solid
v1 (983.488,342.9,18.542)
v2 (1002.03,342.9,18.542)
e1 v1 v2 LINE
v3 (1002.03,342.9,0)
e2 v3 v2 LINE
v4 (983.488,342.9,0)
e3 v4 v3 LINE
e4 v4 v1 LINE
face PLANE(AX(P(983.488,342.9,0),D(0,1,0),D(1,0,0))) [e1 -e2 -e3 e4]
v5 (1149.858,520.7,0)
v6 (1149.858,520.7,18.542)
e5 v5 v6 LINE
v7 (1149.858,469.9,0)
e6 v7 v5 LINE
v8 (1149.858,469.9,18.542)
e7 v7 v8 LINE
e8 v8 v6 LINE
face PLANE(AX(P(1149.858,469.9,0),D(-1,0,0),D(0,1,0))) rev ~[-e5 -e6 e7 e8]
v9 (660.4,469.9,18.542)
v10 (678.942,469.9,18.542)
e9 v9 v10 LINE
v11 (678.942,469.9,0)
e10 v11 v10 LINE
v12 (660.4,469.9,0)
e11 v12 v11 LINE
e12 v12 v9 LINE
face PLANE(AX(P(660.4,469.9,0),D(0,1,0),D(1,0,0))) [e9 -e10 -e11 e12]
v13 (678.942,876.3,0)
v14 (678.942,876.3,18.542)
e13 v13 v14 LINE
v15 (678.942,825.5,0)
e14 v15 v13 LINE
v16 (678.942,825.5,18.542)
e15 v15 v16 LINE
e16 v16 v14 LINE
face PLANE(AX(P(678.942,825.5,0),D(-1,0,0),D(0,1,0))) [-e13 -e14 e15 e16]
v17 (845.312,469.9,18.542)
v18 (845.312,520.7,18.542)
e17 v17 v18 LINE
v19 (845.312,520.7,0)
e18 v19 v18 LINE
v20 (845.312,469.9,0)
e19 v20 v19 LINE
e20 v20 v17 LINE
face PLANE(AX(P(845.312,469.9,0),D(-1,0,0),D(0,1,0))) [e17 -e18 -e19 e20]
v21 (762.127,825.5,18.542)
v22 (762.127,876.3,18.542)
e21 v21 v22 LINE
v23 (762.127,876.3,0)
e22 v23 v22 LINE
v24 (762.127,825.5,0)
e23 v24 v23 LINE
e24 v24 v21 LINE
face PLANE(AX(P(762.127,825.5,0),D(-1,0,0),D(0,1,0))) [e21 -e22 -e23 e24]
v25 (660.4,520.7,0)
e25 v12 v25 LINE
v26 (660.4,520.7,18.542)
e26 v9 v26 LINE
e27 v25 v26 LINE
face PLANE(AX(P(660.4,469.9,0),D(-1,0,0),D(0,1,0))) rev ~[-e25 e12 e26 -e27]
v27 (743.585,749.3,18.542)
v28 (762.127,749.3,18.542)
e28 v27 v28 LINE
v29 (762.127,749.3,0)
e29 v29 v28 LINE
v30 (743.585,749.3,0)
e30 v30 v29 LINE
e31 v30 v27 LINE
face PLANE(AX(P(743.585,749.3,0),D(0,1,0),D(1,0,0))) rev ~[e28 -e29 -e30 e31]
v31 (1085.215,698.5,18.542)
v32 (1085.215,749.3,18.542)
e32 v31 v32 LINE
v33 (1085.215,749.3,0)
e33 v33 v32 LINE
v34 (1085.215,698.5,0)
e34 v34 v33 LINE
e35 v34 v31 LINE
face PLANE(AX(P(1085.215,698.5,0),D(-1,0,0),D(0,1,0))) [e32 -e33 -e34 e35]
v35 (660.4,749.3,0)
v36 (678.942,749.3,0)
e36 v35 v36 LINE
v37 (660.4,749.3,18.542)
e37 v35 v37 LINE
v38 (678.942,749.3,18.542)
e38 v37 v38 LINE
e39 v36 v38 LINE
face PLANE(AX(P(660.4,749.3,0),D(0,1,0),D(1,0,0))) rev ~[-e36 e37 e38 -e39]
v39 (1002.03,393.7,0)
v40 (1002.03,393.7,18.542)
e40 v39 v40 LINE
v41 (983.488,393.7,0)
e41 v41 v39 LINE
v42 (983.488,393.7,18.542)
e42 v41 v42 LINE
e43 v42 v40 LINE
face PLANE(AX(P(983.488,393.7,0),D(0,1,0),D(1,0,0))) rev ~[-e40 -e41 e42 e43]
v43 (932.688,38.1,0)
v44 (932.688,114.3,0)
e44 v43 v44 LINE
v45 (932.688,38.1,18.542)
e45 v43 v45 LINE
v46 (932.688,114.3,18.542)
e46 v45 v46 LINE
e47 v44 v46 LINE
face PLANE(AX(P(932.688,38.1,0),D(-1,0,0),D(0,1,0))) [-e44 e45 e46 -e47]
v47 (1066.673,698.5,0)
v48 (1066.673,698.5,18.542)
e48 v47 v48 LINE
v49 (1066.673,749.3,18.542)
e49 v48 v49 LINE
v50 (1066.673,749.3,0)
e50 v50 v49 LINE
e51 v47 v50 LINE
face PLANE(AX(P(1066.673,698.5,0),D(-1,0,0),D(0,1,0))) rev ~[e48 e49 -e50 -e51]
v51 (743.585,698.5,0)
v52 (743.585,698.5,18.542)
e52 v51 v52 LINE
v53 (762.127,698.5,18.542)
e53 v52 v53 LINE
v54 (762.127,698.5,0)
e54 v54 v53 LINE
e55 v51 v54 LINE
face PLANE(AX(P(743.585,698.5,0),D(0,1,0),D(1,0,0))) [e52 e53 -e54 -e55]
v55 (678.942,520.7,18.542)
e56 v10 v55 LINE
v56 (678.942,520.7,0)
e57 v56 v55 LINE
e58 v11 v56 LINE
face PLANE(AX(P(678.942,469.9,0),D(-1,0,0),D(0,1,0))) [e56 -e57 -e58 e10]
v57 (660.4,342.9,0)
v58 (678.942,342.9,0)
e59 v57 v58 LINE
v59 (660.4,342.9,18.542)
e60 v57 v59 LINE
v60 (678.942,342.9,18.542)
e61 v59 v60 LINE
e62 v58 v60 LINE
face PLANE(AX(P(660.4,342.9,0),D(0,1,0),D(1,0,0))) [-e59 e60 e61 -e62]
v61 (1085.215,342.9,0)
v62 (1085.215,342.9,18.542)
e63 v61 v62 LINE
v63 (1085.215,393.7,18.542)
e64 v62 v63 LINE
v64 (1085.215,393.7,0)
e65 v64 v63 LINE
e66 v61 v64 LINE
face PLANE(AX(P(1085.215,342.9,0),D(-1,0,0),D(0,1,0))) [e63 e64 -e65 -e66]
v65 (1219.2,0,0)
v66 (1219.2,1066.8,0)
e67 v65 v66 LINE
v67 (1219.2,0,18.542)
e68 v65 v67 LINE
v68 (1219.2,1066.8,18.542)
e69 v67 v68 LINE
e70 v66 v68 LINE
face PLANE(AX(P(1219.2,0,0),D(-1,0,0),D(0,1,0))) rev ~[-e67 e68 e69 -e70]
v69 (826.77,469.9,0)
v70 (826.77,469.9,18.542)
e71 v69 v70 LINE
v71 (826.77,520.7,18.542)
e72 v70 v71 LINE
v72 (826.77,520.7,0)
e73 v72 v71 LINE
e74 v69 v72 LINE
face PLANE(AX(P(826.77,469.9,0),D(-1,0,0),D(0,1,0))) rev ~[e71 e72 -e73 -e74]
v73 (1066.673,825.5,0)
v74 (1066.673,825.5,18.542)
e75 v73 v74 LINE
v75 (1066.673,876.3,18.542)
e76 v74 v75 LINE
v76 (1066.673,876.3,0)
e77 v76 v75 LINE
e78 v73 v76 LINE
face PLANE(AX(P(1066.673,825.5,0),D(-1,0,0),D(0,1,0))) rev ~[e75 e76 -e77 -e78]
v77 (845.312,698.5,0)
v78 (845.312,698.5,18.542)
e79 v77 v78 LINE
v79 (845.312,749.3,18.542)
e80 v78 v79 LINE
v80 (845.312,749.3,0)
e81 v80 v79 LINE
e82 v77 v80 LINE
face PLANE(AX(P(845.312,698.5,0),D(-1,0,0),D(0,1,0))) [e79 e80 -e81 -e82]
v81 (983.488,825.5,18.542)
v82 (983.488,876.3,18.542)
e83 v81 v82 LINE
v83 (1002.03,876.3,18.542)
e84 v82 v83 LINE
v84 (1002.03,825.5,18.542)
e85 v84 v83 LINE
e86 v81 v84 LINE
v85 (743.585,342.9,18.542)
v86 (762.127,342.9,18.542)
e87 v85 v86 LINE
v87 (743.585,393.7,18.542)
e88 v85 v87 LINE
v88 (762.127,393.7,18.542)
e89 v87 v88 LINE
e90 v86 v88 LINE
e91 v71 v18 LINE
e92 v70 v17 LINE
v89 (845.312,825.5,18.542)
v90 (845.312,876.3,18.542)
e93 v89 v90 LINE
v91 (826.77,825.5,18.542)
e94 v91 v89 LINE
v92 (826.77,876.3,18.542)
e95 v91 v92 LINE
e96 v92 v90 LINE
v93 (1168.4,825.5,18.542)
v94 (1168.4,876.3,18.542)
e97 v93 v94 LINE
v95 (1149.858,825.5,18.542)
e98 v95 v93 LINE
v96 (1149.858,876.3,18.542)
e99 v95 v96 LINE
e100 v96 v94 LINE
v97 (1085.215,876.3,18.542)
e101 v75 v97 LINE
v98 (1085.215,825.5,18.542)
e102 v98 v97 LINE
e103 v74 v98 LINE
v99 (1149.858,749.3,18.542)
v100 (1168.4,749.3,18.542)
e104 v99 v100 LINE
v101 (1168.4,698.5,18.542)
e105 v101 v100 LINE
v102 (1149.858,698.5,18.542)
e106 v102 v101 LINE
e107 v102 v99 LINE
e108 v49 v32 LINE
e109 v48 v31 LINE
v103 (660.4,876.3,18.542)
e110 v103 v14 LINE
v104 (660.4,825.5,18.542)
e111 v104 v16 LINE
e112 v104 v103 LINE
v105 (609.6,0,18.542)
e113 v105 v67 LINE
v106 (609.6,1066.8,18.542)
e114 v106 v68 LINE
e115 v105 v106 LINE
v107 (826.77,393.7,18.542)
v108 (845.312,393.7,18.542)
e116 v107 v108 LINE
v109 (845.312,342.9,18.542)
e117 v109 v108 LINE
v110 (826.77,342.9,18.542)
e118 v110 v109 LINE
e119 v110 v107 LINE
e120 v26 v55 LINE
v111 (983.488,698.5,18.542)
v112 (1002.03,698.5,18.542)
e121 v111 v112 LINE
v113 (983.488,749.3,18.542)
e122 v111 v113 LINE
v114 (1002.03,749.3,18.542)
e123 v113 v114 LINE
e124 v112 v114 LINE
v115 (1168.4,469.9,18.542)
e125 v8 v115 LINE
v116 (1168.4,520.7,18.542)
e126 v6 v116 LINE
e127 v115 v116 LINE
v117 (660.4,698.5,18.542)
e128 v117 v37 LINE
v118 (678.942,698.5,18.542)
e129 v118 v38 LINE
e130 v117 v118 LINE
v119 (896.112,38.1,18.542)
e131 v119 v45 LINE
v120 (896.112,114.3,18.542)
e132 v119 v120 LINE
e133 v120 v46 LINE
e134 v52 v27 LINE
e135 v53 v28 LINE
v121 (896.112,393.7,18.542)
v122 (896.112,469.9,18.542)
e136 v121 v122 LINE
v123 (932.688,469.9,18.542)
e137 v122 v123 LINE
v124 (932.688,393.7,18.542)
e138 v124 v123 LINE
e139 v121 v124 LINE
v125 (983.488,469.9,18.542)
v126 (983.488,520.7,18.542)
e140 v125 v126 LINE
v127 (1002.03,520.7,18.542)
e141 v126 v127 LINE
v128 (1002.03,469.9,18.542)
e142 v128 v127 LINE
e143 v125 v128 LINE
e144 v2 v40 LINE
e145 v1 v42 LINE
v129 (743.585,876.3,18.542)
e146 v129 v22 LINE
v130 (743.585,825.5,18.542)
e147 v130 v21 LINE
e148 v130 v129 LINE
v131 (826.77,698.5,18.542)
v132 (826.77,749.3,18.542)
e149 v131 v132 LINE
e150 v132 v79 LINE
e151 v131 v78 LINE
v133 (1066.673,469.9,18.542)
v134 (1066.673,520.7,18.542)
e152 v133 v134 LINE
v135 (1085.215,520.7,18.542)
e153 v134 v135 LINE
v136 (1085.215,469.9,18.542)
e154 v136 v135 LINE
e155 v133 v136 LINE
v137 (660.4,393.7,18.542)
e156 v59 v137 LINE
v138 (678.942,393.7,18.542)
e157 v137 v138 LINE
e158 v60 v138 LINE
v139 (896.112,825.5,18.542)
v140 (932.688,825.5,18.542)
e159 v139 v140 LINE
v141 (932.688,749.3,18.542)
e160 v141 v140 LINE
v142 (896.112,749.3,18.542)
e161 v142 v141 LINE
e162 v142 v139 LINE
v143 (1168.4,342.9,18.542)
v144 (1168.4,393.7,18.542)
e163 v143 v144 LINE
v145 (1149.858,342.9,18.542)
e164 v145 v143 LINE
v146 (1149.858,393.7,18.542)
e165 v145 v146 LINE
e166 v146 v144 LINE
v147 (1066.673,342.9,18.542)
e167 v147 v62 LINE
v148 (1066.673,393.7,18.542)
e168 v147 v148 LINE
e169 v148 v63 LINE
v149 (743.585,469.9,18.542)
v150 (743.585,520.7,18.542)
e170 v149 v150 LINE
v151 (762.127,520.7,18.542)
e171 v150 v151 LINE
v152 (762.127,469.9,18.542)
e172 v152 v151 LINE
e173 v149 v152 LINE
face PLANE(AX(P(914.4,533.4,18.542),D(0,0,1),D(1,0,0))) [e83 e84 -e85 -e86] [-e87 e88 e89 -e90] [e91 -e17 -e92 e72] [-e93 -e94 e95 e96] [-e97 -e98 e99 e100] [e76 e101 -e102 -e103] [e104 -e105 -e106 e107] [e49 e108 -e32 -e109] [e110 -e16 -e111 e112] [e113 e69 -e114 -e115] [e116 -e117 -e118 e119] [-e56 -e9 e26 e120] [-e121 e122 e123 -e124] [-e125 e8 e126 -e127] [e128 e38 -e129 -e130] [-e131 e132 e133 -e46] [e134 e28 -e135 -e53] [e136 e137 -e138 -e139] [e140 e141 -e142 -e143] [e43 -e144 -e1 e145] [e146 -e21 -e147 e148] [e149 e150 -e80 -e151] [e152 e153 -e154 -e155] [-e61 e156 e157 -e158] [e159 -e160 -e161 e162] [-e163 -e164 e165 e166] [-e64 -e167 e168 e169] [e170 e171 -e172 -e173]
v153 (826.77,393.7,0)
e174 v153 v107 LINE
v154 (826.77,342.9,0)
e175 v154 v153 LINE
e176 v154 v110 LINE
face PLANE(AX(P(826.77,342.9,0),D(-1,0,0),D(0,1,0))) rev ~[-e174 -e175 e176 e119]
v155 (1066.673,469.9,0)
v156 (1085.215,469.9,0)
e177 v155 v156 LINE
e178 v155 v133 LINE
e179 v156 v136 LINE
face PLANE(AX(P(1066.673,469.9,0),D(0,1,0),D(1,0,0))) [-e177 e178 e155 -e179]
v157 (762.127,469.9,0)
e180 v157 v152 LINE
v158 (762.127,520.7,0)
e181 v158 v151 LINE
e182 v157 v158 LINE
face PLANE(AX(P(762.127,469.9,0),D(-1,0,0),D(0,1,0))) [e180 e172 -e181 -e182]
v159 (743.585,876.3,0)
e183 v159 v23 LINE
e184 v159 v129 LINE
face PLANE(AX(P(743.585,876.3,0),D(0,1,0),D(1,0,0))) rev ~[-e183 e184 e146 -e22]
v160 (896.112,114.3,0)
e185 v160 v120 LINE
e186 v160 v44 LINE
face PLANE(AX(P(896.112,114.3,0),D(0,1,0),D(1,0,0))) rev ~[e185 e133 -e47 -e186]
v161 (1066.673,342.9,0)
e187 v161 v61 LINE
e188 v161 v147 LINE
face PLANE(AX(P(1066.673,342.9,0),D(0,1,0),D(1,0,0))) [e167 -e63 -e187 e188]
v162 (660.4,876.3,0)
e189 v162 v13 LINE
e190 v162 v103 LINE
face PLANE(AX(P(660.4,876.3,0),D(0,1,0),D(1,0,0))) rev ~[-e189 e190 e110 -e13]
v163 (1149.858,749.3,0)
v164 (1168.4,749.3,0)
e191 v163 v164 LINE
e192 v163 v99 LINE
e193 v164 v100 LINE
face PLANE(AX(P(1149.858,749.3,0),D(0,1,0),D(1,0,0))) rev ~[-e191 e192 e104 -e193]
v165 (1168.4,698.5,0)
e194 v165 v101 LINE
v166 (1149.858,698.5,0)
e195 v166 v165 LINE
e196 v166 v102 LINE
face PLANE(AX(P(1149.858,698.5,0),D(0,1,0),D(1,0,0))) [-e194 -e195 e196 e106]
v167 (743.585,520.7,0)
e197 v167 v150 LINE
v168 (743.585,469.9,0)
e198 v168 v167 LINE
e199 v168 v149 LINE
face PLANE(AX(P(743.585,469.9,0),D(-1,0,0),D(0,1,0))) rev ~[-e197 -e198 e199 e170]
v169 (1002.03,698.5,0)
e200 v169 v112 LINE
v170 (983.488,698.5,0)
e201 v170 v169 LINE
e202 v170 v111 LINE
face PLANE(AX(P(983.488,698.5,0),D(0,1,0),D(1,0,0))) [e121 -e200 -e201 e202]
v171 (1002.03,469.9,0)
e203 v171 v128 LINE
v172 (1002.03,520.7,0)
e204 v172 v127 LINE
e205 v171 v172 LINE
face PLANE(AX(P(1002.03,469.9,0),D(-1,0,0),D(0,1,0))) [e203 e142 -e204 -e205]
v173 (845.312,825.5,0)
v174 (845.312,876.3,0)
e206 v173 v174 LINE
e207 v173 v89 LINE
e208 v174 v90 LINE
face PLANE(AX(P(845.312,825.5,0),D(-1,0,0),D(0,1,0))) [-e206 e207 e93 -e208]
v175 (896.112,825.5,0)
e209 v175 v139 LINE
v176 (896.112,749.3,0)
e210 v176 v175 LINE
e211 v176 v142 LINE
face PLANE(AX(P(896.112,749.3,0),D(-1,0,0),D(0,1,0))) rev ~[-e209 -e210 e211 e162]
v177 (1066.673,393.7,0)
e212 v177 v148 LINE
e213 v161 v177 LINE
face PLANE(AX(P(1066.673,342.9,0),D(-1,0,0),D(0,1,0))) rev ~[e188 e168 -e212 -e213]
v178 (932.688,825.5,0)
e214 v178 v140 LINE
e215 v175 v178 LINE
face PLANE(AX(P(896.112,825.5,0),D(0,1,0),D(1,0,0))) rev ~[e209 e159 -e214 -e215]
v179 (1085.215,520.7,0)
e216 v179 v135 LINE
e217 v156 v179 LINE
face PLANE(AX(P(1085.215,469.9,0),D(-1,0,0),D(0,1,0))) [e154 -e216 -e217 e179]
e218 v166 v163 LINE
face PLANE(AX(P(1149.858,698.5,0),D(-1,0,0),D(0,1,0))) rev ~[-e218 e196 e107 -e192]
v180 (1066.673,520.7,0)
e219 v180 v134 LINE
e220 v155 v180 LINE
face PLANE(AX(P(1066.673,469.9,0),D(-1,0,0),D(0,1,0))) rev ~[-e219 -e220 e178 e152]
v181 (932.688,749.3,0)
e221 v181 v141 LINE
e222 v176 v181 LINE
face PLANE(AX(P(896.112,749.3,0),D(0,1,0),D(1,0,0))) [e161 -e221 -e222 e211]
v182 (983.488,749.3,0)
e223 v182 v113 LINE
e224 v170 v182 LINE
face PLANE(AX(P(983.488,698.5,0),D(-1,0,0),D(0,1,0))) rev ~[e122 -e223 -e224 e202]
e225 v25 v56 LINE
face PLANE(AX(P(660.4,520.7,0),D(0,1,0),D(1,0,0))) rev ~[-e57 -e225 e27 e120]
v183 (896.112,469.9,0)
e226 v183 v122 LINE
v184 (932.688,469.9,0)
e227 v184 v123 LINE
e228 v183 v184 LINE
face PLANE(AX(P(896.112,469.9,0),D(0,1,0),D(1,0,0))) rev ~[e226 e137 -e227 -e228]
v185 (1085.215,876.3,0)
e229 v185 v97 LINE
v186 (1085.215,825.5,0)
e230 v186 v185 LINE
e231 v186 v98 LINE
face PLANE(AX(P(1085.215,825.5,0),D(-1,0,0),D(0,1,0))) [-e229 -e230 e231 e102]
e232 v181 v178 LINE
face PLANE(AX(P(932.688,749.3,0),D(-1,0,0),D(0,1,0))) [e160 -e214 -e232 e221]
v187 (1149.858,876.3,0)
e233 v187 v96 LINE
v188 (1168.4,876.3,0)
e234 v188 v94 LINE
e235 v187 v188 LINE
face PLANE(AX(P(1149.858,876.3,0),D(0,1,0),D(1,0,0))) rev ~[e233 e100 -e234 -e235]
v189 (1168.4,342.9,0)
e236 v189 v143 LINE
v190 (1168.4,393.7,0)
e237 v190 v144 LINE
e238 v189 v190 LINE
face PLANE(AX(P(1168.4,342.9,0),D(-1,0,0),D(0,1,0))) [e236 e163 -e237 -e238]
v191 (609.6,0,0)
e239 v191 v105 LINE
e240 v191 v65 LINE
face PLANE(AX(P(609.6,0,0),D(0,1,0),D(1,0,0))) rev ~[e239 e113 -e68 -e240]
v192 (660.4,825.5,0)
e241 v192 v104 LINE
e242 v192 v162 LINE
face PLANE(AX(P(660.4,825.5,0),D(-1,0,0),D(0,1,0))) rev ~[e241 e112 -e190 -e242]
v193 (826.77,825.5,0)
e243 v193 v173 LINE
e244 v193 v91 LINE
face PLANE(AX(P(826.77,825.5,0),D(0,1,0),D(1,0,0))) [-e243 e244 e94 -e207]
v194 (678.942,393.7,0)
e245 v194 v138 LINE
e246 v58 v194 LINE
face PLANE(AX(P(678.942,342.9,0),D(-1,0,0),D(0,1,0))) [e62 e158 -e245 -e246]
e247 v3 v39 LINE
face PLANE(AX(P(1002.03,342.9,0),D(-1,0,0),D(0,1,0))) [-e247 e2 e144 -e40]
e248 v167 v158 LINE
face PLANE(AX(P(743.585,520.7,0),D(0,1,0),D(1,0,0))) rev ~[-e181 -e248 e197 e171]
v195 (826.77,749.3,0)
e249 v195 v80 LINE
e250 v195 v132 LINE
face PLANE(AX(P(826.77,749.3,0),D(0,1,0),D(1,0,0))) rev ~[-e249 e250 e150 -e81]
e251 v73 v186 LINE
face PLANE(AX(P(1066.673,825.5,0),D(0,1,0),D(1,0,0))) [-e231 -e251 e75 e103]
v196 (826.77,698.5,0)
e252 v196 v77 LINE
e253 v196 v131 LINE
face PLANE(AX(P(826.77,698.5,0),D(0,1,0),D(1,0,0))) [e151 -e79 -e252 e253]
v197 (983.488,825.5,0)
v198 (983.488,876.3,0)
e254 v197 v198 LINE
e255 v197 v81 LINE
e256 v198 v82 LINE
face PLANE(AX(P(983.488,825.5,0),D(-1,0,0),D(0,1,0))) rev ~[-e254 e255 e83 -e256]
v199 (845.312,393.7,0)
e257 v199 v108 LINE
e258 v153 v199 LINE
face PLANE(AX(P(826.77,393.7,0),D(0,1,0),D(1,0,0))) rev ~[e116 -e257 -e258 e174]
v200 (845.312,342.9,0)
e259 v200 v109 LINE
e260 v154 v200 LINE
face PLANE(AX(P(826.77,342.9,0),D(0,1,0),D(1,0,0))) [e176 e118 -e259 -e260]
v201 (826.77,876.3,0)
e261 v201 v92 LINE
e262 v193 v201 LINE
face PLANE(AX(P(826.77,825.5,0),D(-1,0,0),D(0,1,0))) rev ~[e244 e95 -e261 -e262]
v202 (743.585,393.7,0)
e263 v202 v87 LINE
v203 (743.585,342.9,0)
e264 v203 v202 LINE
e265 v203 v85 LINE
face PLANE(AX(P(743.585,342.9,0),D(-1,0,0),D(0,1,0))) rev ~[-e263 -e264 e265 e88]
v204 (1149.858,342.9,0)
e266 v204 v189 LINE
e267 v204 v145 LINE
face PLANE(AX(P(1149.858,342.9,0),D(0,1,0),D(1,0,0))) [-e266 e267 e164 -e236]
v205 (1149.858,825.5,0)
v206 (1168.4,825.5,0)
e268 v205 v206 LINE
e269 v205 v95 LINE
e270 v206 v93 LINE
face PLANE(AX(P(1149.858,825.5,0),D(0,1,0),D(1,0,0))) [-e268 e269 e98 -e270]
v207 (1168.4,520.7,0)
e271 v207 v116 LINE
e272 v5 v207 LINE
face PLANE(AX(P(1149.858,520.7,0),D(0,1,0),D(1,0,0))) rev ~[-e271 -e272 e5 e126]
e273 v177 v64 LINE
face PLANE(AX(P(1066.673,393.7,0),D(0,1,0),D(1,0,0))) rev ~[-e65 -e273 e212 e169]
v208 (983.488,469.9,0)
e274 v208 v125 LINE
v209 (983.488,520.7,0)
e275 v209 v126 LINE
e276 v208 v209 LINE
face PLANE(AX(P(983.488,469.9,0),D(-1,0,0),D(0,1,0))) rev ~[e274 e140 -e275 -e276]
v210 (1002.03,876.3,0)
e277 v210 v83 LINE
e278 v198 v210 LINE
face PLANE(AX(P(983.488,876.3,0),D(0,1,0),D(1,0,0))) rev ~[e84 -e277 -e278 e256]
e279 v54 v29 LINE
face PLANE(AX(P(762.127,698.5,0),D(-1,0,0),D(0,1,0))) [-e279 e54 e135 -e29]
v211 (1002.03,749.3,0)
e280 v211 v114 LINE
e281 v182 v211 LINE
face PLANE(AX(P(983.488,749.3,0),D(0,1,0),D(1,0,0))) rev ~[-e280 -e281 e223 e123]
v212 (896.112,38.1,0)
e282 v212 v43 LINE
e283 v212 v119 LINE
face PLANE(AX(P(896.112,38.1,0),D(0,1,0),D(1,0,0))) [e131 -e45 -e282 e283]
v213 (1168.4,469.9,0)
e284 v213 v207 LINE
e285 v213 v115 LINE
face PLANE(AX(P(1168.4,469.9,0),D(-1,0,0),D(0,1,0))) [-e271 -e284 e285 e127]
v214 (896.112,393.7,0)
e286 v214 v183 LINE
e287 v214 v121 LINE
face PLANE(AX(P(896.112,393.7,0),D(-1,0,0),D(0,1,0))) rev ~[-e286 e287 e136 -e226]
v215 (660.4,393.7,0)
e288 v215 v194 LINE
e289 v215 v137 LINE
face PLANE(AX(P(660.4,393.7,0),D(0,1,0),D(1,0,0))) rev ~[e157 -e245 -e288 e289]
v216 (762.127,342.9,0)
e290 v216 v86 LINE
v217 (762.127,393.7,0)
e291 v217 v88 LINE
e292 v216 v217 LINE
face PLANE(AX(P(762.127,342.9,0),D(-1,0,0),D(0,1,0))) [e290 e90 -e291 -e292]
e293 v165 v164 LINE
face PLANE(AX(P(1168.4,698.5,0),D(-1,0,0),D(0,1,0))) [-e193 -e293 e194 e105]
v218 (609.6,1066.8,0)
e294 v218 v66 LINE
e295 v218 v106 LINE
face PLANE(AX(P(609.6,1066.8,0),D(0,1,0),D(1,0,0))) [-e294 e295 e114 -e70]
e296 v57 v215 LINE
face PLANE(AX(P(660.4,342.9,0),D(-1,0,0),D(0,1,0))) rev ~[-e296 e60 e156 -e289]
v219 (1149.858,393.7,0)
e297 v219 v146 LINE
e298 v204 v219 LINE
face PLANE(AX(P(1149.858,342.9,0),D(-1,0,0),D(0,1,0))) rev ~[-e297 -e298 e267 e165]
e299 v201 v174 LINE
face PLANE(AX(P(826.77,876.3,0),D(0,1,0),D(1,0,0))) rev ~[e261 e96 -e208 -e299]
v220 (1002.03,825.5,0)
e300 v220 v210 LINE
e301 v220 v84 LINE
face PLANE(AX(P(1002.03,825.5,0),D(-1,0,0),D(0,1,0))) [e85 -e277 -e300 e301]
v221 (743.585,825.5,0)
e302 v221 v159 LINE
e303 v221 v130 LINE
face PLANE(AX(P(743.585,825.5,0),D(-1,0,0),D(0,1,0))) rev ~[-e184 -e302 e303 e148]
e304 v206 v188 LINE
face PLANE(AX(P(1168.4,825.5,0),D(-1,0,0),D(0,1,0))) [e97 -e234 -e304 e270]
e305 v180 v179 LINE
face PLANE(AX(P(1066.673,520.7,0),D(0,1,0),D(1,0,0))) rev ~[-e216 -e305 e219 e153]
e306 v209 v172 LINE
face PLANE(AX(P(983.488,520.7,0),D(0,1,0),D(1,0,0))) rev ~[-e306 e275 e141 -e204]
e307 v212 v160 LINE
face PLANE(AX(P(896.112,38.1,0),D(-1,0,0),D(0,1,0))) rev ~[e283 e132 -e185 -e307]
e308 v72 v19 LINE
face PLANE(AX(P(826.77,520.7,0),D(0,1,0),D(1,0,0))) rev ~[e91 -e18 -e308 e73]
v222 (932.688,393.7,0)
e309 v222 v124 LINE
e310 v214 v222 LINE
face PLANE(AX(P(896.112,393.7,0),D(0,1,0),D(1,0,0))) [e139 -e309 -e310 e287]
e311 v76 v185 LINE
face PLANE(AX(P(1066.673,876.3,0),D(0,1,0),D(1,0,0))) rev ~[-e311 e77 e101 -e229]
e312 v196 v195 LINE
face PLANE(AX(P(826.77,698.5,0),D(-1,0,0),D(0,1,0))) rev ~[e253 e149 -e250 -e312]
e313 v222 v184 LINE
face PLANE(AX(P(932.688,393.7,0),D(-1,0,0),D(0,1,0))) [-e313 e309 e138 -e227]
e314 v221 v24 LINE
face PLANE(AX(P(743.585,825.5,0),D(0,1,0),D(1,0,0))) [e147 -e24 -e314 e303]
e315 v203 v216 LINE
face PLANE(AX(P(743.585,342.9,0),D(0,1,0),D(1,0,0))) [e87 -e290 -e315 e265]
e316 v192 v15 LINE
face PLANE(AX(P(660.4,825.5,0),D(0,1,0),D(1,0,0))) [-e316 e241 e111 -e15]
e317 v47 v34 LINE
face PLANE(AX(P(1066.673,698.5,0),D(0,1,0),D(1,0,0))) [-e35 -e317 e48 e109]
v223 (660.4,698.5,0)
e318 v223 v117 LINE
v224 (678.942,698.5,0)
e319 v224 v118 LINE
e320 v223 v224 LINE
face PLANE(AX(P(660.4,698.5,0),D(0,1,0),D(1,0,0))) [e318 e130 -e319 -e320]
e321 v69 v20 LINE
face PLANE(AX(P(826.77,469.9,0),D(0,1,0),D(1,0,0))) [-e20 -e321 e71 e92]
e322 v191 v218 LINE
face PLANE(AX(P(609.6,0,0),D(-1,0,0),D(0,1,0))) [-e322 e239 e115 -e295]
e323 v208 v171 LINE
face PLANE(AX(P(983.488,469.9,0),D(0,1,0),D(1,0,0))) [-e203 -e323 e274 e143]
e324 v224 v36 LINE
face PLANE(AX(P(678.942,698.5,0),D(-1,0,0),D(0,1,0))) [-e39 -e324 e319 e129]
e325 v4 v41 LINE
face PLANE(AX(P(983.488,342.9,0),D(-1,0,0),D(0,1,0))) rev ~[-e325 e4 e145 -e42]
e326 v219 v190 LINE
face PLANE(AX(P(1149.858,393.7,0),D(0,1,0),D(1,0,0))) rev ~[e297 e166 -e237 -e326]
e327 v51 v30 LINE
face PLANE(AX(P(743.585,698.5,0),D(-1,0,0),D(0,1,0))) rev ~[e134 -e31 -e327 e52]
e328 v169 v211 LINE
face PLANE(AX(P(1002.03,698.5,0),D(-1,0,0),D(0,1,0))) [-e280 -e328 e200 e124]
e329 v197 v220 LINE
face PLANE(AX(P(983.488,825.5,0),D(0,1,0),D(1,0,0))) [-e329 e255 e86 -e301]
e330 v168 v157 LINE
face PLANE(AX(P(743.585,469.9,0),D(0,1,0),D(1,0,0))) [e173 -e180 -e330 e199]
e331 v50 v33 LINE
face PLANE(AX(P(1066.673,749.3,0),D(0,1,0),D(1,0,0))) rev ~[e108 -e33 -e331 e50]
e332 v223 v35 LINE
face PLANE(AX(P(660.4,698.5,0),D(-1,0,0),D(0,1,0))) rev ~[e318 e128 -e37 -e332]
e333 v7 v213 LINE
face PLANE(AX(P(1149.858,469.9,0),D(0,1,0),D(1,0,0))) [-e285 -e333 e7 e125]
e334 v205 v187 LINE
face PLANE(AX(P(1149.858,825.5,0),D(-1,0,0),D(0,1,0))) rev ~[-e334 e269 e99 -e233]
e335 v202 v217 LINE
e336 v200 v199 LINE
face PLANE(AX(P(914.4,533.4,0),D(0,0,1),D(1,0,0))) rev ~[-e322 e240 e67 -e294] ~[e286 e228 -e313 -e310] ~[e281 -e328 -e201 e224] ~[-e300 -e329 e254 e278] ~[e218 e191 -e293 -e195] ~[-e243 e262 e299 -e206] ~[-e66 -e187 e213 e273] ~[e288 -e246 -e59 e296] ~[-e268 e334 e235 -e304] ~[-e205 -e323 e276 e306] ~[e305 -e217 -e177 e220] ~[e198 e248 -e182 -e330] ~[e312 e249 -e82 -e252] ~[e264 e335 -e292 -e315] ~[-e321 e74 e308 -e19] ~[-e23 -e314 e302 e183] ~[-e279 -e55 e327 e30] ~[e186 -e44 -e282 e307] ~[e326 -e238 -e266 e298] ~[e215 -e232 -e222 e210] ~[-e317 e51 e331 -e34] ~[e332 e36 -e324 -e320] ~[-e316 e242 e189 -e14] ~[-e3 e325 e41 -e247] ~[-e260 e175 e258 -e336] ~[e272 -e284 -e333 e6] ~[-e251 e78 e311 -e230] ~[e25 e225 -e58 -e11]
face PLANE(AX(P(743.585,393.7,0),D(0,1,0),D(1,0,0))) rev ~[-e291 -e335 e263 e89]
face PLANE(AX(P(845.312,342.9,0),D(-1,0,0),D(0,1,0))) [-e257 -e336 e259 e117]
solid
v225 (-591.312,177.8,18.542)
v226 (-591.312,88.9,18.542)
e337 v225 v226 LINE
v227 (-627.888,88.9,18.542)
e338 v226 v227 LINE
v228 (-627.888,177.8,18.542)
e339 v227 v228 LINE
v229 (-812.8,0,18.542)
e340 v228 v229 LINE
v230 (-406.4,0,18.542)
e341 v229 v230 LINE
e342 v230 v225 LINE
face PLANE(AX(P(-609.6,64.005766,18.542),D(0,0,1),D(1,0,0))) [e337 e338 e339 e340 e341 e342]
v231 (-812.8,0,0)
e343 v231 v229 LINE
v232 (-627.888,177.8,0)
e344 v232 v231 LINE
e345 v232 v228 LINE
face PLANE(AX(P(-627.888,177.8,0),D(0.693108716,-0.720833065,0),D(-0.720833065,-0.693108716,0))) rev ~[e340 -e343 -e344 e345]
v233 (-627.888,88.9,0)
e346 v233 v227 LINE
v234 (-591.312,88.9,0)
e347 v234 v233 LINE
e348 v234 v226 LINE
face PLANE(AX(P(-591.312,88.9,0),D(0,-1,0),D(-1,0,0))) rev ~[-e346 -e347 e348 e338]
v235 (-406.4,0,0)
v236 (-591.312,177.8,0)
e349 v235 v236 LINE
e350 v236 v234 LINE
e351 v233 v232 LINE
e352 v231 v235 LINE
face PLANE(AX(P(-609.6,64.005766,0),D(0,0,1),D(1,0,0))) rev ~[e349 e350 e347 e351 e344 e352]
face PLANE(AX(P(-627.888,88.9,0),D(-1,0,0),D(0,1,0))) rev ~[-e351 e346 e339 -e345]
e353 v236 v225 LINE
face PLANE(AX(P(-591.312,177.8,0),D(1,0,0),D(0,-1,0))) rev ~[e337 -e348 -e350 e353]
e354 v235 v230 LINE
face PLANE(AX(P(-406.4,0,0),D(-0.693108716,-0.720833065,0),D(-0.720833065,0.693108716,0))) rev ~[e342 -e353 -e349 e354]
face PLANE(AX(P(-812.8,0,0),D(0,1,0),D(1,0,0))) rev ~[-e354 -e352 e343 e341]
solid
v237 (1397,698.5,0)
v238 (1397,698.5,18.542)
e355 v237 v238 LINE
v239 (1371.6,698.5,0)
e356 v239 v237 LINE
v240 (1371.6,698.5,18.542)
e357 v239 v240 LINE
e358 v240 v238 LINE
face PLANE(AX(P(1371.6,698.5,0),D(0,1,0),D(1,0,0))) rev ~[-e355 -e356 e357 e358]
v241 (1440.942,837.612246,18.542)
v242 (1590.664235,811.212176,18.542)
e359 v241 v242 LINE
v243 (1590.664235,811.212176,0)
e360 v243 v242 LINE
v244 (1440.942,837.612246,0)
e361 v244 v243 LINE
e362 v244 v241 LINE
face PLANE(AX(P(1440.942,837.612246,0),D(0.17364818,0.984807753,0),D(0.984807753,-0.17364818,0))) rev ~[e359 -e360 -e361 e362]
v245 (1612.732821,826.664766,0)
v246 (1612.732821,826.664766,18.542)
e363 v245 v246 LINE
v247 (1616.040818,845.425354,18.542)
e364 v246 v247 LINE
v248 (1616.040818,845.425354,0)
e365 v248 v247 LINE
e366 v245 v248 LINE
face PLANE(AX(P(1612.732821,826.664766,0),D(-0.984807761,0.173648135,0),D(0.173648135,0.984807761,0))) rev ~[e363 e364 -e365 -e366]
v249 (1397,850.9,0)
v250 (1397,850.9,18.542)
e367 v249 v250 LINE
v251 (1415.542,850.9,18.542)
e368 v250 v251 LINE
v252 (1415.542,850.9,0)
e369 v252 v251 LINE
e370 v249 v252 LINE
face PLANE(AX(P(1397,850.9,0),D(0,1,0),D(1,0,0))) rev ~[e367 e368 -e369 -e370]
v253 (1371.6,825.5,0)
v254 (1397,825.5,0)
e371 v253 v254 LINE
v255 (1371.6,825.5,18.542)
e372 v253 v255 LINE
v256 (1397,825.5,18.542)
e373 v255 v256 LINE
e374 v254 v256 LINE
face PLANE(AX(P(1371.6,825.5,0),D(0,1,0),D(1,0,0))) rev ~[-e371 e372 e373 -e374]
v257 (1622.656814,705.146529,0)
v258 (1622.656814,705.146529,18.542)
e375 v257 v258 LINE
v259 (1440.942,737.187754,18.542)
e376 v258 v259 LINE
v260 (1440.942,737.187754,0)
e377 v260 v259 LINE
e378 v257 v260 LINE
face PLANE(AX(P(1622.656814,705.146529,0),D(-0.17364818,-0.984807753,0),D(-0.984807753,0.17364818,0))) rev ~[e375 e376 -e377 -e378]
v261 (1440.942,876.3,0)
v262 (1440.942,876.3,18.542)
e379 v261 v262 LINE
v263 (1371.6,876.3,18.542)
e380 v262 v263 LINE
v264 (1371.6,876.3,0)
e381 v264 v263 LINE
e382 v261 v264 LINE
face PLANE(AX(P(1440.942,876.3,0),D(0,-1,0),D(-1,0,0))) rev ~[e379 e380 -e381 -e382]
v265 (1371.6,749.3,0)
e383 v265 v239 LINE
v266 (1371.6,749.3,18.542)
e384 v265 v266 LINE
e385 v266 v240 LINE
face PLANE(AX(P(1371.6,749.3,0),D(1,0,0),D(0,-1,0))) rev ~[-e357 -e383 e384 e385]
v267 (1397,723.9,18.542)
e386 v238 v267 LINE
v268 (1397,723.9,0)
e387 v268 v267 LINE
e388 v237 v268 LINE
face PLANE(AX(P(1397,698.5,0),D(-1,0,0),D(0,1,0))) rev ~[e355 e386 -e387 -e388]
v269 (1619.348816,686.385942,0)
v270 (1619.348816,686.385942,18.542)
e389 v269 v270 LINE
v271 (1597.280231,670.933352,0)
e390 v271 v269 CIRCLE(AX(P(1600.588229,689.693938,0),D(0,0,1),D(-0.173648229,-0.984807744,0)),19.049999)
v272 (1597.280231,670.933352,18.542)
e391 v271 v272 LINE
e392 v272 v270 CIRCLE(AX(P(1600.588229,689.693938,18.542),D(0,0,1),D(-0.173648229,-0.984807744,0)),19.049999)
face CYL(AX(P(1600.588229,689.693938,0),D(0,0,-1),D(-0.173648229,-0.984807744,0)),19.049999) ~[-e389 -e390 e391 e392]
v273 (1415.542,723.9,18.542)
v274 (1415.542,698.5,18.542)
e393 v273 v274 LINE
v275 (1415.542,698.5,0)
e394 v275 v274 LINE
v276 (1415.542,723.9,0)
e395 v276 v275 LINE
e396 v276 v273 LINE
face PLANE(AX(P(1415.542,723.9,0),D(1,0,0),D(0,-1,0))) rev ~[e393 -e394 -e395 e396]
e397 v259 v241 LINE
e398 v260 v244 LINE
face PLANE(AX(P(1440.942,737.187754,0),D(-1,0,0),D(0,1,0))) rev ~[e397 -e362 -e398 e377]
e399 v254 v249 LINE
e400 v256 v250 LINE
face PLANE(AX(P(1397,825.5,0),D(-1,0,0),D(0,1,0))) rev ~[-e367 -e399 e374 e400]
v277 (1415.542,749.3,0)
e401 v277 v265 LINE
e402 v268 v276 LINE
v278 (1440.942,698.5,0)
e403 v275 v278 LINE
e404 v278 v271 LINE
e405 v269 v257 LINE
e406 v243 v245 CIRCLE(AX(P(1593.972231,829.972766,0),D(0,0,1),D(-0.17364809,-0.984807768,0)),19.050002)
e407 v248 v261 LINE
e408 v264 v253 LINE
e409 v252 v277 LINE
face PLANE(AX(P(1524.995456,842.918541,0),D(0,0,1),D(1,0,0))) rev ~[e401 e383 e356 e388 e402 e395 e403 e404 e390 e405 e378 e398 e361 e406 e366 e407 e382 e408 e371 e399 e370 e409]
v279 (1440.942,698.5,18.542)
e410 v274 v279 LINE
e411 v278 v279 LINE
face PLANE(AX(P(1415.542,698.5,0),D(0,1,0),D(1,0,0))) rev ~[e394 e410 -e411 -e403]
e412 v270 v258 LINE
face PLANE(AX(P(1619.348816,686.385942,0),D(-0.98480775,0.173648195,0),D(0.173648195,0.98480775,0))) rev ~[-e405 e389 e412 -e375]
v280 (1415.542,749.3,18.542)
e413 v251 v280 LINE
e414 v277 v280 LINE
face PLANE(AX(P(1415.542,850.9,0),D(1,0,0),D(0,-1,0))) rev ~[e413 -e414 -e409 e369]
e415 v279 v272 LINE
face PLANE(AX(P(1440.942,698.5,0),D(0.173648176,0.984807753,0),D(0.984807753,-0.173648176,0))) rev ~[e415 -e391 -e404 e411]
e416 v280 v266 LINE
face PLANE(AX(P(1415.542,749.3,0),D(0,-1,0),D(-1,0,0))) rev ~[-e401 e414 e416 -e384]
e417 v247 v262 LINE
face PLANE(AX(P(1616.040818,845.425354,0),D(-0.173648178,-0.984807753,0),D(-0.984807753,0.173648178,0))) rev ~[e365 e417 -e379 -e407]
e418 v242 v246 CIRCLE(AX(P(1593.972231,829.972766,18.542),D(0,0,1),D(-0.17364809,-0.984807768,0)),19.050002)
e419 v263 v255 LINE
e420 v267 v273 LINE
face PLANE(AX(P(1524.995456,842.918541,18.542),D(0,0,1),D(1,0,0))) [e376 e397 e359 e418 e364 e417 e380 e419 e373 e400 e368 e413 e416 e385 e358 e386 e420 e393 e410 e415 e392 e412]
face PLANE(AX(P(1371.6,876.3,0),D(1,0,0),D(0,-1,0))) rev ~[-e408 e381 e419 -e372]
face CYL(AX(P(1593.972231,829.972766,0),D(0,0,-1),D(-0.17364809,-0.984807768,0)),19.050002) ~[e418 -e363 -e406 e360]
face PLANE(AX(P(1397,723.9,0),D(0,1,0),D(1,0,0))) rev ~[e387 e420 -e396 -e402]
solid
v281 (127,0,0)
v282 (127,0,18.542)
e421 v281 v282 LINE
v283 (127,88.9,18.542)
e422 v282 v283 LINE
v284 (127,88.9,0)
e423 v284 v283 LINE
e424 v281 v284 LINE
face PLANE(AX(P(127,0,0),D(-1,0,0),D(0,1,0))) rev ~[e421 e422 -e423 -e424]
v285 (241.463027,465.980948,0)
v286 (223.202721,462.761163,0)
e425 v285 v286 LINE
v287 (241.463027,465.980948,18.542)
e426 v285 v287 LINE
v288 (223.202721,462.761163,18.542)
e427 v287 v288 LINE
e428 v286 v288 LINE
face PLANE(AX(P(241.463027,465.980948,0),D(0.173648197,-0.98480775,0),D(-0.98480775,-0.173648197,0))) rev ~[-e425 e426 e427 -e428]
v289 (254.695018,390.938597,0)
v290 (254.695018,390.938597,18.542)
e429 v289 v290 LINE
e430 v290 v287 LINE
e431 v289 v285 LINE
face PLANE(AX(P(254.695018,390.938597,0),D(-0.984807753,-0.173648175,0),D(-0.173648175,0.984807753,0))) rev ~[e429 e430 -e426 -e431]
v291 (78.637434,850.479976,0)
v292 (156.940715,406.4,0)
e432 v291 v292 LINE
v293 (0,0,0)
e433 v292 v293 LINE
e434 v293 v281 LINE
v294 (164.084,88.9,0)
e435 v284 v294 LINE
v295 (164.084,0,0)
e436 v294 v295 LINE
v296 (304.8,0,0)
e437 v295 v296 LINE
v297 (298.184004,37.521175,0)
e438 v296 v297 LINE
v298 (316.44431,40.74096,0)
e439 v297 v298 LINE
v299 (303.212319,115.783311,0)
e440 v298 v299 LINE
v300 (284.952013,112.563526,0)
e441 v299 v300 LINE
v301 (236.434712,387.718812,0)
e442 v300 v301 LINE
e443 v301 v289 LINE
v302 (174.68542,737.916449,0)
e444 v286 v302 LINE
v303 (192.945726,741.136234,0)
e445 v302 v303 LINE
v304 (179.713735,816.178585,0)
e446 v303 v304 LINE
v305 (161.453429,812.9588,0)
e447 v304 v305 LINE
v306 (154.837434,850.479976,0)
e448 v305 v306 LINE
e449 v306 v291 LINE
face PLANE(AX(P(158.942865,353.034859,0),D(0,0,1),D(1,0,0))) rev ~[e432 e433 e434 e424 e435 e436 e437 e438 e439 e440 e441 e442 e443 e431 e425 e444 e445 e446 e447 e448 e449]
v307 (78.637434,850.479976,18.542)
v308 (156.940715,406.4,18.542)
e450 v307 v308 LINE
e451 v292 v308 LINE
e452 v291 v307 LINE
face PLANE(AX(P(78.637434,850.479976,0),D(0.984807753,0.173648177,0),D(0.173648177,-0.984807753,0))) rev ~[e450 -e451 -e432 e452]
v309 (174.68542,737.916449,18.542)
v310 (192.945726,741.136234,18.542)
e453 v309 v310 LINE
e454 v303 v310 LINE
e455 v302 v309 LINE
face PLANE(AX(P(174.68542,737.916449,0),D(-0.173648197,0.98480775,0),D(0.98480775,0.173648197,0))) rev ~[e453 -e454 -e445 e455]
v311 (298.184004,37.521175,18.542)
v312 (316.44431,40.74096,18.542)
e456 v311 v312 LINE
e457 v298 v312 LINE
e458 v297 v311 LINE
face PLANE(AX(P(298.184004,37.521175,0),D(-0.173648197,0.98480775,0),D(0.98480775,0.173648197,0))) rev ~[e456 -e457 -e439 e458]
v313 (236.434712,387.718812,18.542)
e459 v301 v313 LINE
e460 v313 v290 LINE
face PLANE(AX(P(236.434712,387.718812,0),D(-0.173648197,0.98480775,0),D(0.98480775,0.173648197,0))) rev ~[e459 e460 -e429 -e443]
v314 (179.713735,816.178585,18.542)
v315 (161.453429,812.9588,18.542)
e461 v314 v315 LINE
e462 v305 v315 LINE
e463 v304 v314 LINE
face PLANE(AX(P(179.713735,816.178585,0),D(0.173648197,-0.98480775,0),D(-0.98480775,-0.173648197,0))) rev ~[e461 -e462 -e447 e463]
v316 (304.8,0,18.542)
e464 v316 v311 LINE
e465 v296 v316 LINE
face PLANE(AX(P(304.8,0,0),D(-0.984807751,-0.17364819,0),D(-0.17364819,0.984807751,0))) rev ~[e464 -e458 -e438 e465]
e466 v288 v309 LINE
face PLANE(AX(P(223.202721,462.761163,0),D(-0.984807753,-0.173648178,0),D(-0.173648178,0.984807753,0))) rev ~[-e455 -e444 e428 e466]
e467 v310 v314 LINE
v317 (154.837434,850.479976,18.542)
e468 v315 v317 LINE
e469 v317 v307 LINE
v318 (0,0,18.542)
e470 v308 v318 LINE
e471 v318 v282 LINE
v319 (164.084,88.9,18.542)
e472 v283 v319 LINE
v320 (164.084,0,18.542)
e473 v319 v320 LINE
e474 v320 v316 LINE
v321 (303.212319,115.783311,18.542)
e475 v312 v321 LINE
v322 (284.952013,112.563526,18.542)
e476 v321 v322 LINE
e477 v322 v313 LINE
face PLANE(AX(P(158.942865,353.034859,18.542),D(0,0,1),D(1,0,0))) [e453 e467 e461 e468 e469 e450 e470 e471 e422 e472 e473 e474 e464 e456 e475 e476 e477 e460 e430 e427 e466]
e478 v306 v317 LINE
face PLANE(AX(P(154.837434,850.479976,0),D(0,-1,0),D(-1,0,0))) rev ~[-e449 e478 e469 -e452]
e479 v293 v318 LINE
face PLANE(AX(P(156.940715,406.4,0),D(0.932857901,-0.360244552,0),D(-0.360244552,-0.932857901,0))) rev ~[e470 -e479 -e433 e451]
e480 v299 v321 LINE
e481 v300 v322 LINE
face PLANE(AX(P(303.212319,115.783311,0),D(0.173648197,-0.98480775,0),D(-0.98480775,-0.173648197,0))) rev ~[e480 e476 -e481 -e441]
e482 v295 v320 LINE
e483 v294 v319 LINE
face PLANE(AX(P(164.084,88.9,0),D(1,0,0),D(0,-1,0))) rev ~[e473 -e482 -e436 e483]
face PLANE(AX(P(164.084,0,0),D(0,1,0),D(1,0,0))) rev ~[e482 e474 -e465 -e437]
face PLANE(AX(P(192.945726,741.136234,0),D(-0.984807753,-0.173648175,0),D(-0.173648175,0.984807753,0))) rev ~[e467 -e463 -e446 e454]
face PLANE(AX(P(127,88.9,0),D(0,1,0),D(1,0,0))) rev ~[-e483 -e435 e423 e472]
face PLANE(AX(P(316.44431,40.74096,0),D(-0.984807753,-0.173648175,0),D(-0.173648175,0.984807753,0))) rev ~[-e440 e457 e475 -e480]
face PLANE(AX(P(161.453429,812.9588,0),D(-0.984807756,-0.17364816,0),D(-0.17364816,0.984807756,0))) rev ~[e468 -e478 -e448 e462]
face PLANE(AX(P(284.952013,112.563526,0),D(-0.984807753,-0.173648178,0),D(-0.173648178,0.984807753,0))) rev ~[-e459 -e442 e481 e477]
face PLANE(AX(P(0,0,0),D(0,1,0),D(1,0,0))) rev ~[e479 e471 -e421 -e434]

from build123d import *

# Parameters (mm, degrees)
F0_W     = 609.6
F0_H     = 1066.8
F0_W_2   = 36.576
F0_H_2   = 76.2
F0_W_3   = 18.542
F0_H_3   = 50.8
F0_H_4   = 25.4
F1_DEPTH = 18.542


with BuildPart() as f1:
    # F0 (on Top) → F1 (new body)
    with BuildSketch(Plane.XY):
        Polygon((156.940715, 406.4), (0, 0), (127, 0), (127, 88.9), (164.084, 88.9), (164.084, 0), (304.8, 0), (298.184004, 37.521175), (284.952013, 112.563526), (236.434712, 387.718812), (223.202721, 462.761163), (174.68542, 737.916449), (161.453429, 812.9588), (154.837434, 850.479976), (78.637434, 850.479976), align=None)
        Polygon((179.713735, 816.178585), (161.453429, 812.9588), (174.68542, 737.916449), (192.945726, 741.136234), align=None)
        Polygon((241.463027, 465.980948), (223.202721, 462.761163), (236.434712, 387.718812), (254.695018, 390.938597), align=None)
        Polygon((284.952013, 112.563526), (298.184004, 37.521175), (316.44431, 40.74096), (303.212319, 115.783311), align=None)
        with Locations((914.4, 533.4)):
            Rectangle(F0_W, F0_H)
        with Locations((914.4, 76.2)):
            Rectangle(F0_W_2, F0_H_2, mode=Mode.SUBTRACT)
        with Locations((669.671, 368.3)):
            Rectangle(F0_W_3, F0_H_3, mode=Mode.SUBTRACT)
        with Locations((752.856, 368.3)):
            Rectangle(F0_W_3, F0_H_3, mode=Mode.SUBTRACT)
        with Locations((836.041, 368.3)):
            Rectangle(F0_W_3, F0_H_3, mode=Mode.SUBTRACT)
        with Locations((992.759, 368.3)):
            Rectangle(F0_W_3, F0_H_3, mode=Mode.SUBTRACT)
        with Locations((669.671, 495.3)):
            Rectangle(F0_W_3, F0_H_3, mode=Mode.SUBTRACT)
        with Locations((914.4, 431.8)):
            Rectangle(F0_W_2, F0_H_2, mode=Mode.SUBTRACT)
        with Locations((752.856, 495.3)):
            Rectangle(F0_W_3, F0_H_3, mode=Mode.SUBTRACT)
        with Locations((836.041, 495.3)):
            Rectangle(F0_W_3, F0_H_3, mode=Mode.SUBTRACT)
        with Locations((992.759, 495.3)):
            Rectangle(F0_W_3, F0_H_3, mode=Mode.SUBTRACT)
        with Locations((1075.944, 368.3)):
            Rectangle(F0_W_3, F0_H_3, mode=Mode.SUBTRACT)
        with Locations((1159.129, 368.3)):
            Rectangle(F0_W_3, F0_H_3, mode=Mode.SUBTRACT)
        with Locations((1075.944, 495.3)):
            Rectangle(F0_W_3, F0_H_3, mode=Mode.SUBTRACT)
        with Locations((1159.129, 495.3)):
            Rectangle(F0_W_3, F0_H_3, mode=Mode.SUBTRACT)
        with Locations((669.671, 723.9)):
            Rectangle(F0_W_3, F0_H_3, mode=Mode.SUBTRACT)
        with Locations((752.856, 723.9)):
            Rectangle(F0_W_3, F0_H_3, mode=Mode.SUBTRACT)
        with Locations((836.041, 723.9)):
            Rectangle(F0_W_3, F0_H_3, mode=Mode.SUBTRACT)
        with Locations((992.759, 723.9)):
            Rectangle(F0_W_3, F0_H_3, mode=Mode.SUBTRACT)
        with Locations((914.4, 787.4)):
            Rectangle(F0_W_2, F0_H_2, mode=Mode.SUBTRACT)
        with Locations((1075.944, 723.9)):
            Rectangle(F0_W_3, F0_H_3, mode=Mode.SUBTRACT)
        with Locations((1159.129, 723.9)):
            Rectangle(F0_W_3, F0_H_3, mode=Mode.SUBTRACT)
        with Locations((669.671, 850.9)):
            Rectangle(F0_W_3, F0_H_3, mode=Mode.SUBTRACT)
        with Locations((752.856, 850.9)):
            Rectangle(F0_W_3, F0_H_3, mode=Mode.SUBTRACT)
        with Locations((836.041, 850.9)):
            Rectangle(F0_W_3, F0_H_3, mode=Mode.SUBTRACT)
        with Locations((992.759, 850.9)):
            Rectangle(F0_W_3, F0_H_3, mode=Mode.SUBTRACT)
        with Locations((1075.944, 850.9)):
            Rectangle(F0_W_3, F0_H_3, mode=Mode.SUBTRACT)
        with Locations((1159.129, 850.9)):
            Rectangle(F0_W_3, F0_H_3, mode=Mode.SUBTRACT)
        with BuildLine():
            Line((1616.040818, 845.425354), (1440.942, 876.3))
            Line((1440.942, 876.3), (1440.942, 837.612246))
            Line((1440.942, 837.612246), (1590.664235, 811.212176))
            ThreePointArc((1590.664235, 811.212176), (1604.898864, 814.367918), (1612.732821, 826.664766))
            Line((1612.732821, 826.664766), (1616.040818, 845.425354))
        make_face()
        Polygon((1415.542, 876.3), (1415.542, 850.9), (1415.542, 749.3), (1415.542, 723.9), (1415.542, 698.5), (1440.942, 698.5), (1440.942, 737.187754), (1440.942, 837.612246), (1440.942, 876.3), align=None)
        with Locations((1406.271, 863.6)):
            Rectangle(F0_W_3, F0_H_4)
        Polygon((1371.6, 876.3), (1371.6, 825.5), (1397, 825.5), (1397, 850.9), (1397, 876.3), align=None)
        Polygon((1397, 723.9), (1397, 749.3), (1371.6, 749.3), (1371.6, 698.5), (1397, 698.5), align=None)
        with Locations((1406.271, 736.6)):
            Rectangle(F0_W_3, F0_H_4)
        with BuildLine():
            Line((1622.656814, 705.146529), (1440.942, 737.187754))
            Line((1440.942, 737.187754), (1440.942, 698.5))
            Line((1440.942, 698.5), (1597.280231, 670.933352))
            ThreePointArc((1597.280231, 670.933352), (1611.51486, 674.089093), (1619.348816, 686.385942))
            Line((1619.348816, 686.385942), (1622.656814, 705.146529))
        make_face()
        Polygon((-812.8, 0), (-406.4, 0), (-591.312, 177.8), (-591.312, 88.9), (-627.888, 88.9), (-627.888, 177.8), align=None)
    extrude(amount=F1_DEPTH)


solid = f1.part
